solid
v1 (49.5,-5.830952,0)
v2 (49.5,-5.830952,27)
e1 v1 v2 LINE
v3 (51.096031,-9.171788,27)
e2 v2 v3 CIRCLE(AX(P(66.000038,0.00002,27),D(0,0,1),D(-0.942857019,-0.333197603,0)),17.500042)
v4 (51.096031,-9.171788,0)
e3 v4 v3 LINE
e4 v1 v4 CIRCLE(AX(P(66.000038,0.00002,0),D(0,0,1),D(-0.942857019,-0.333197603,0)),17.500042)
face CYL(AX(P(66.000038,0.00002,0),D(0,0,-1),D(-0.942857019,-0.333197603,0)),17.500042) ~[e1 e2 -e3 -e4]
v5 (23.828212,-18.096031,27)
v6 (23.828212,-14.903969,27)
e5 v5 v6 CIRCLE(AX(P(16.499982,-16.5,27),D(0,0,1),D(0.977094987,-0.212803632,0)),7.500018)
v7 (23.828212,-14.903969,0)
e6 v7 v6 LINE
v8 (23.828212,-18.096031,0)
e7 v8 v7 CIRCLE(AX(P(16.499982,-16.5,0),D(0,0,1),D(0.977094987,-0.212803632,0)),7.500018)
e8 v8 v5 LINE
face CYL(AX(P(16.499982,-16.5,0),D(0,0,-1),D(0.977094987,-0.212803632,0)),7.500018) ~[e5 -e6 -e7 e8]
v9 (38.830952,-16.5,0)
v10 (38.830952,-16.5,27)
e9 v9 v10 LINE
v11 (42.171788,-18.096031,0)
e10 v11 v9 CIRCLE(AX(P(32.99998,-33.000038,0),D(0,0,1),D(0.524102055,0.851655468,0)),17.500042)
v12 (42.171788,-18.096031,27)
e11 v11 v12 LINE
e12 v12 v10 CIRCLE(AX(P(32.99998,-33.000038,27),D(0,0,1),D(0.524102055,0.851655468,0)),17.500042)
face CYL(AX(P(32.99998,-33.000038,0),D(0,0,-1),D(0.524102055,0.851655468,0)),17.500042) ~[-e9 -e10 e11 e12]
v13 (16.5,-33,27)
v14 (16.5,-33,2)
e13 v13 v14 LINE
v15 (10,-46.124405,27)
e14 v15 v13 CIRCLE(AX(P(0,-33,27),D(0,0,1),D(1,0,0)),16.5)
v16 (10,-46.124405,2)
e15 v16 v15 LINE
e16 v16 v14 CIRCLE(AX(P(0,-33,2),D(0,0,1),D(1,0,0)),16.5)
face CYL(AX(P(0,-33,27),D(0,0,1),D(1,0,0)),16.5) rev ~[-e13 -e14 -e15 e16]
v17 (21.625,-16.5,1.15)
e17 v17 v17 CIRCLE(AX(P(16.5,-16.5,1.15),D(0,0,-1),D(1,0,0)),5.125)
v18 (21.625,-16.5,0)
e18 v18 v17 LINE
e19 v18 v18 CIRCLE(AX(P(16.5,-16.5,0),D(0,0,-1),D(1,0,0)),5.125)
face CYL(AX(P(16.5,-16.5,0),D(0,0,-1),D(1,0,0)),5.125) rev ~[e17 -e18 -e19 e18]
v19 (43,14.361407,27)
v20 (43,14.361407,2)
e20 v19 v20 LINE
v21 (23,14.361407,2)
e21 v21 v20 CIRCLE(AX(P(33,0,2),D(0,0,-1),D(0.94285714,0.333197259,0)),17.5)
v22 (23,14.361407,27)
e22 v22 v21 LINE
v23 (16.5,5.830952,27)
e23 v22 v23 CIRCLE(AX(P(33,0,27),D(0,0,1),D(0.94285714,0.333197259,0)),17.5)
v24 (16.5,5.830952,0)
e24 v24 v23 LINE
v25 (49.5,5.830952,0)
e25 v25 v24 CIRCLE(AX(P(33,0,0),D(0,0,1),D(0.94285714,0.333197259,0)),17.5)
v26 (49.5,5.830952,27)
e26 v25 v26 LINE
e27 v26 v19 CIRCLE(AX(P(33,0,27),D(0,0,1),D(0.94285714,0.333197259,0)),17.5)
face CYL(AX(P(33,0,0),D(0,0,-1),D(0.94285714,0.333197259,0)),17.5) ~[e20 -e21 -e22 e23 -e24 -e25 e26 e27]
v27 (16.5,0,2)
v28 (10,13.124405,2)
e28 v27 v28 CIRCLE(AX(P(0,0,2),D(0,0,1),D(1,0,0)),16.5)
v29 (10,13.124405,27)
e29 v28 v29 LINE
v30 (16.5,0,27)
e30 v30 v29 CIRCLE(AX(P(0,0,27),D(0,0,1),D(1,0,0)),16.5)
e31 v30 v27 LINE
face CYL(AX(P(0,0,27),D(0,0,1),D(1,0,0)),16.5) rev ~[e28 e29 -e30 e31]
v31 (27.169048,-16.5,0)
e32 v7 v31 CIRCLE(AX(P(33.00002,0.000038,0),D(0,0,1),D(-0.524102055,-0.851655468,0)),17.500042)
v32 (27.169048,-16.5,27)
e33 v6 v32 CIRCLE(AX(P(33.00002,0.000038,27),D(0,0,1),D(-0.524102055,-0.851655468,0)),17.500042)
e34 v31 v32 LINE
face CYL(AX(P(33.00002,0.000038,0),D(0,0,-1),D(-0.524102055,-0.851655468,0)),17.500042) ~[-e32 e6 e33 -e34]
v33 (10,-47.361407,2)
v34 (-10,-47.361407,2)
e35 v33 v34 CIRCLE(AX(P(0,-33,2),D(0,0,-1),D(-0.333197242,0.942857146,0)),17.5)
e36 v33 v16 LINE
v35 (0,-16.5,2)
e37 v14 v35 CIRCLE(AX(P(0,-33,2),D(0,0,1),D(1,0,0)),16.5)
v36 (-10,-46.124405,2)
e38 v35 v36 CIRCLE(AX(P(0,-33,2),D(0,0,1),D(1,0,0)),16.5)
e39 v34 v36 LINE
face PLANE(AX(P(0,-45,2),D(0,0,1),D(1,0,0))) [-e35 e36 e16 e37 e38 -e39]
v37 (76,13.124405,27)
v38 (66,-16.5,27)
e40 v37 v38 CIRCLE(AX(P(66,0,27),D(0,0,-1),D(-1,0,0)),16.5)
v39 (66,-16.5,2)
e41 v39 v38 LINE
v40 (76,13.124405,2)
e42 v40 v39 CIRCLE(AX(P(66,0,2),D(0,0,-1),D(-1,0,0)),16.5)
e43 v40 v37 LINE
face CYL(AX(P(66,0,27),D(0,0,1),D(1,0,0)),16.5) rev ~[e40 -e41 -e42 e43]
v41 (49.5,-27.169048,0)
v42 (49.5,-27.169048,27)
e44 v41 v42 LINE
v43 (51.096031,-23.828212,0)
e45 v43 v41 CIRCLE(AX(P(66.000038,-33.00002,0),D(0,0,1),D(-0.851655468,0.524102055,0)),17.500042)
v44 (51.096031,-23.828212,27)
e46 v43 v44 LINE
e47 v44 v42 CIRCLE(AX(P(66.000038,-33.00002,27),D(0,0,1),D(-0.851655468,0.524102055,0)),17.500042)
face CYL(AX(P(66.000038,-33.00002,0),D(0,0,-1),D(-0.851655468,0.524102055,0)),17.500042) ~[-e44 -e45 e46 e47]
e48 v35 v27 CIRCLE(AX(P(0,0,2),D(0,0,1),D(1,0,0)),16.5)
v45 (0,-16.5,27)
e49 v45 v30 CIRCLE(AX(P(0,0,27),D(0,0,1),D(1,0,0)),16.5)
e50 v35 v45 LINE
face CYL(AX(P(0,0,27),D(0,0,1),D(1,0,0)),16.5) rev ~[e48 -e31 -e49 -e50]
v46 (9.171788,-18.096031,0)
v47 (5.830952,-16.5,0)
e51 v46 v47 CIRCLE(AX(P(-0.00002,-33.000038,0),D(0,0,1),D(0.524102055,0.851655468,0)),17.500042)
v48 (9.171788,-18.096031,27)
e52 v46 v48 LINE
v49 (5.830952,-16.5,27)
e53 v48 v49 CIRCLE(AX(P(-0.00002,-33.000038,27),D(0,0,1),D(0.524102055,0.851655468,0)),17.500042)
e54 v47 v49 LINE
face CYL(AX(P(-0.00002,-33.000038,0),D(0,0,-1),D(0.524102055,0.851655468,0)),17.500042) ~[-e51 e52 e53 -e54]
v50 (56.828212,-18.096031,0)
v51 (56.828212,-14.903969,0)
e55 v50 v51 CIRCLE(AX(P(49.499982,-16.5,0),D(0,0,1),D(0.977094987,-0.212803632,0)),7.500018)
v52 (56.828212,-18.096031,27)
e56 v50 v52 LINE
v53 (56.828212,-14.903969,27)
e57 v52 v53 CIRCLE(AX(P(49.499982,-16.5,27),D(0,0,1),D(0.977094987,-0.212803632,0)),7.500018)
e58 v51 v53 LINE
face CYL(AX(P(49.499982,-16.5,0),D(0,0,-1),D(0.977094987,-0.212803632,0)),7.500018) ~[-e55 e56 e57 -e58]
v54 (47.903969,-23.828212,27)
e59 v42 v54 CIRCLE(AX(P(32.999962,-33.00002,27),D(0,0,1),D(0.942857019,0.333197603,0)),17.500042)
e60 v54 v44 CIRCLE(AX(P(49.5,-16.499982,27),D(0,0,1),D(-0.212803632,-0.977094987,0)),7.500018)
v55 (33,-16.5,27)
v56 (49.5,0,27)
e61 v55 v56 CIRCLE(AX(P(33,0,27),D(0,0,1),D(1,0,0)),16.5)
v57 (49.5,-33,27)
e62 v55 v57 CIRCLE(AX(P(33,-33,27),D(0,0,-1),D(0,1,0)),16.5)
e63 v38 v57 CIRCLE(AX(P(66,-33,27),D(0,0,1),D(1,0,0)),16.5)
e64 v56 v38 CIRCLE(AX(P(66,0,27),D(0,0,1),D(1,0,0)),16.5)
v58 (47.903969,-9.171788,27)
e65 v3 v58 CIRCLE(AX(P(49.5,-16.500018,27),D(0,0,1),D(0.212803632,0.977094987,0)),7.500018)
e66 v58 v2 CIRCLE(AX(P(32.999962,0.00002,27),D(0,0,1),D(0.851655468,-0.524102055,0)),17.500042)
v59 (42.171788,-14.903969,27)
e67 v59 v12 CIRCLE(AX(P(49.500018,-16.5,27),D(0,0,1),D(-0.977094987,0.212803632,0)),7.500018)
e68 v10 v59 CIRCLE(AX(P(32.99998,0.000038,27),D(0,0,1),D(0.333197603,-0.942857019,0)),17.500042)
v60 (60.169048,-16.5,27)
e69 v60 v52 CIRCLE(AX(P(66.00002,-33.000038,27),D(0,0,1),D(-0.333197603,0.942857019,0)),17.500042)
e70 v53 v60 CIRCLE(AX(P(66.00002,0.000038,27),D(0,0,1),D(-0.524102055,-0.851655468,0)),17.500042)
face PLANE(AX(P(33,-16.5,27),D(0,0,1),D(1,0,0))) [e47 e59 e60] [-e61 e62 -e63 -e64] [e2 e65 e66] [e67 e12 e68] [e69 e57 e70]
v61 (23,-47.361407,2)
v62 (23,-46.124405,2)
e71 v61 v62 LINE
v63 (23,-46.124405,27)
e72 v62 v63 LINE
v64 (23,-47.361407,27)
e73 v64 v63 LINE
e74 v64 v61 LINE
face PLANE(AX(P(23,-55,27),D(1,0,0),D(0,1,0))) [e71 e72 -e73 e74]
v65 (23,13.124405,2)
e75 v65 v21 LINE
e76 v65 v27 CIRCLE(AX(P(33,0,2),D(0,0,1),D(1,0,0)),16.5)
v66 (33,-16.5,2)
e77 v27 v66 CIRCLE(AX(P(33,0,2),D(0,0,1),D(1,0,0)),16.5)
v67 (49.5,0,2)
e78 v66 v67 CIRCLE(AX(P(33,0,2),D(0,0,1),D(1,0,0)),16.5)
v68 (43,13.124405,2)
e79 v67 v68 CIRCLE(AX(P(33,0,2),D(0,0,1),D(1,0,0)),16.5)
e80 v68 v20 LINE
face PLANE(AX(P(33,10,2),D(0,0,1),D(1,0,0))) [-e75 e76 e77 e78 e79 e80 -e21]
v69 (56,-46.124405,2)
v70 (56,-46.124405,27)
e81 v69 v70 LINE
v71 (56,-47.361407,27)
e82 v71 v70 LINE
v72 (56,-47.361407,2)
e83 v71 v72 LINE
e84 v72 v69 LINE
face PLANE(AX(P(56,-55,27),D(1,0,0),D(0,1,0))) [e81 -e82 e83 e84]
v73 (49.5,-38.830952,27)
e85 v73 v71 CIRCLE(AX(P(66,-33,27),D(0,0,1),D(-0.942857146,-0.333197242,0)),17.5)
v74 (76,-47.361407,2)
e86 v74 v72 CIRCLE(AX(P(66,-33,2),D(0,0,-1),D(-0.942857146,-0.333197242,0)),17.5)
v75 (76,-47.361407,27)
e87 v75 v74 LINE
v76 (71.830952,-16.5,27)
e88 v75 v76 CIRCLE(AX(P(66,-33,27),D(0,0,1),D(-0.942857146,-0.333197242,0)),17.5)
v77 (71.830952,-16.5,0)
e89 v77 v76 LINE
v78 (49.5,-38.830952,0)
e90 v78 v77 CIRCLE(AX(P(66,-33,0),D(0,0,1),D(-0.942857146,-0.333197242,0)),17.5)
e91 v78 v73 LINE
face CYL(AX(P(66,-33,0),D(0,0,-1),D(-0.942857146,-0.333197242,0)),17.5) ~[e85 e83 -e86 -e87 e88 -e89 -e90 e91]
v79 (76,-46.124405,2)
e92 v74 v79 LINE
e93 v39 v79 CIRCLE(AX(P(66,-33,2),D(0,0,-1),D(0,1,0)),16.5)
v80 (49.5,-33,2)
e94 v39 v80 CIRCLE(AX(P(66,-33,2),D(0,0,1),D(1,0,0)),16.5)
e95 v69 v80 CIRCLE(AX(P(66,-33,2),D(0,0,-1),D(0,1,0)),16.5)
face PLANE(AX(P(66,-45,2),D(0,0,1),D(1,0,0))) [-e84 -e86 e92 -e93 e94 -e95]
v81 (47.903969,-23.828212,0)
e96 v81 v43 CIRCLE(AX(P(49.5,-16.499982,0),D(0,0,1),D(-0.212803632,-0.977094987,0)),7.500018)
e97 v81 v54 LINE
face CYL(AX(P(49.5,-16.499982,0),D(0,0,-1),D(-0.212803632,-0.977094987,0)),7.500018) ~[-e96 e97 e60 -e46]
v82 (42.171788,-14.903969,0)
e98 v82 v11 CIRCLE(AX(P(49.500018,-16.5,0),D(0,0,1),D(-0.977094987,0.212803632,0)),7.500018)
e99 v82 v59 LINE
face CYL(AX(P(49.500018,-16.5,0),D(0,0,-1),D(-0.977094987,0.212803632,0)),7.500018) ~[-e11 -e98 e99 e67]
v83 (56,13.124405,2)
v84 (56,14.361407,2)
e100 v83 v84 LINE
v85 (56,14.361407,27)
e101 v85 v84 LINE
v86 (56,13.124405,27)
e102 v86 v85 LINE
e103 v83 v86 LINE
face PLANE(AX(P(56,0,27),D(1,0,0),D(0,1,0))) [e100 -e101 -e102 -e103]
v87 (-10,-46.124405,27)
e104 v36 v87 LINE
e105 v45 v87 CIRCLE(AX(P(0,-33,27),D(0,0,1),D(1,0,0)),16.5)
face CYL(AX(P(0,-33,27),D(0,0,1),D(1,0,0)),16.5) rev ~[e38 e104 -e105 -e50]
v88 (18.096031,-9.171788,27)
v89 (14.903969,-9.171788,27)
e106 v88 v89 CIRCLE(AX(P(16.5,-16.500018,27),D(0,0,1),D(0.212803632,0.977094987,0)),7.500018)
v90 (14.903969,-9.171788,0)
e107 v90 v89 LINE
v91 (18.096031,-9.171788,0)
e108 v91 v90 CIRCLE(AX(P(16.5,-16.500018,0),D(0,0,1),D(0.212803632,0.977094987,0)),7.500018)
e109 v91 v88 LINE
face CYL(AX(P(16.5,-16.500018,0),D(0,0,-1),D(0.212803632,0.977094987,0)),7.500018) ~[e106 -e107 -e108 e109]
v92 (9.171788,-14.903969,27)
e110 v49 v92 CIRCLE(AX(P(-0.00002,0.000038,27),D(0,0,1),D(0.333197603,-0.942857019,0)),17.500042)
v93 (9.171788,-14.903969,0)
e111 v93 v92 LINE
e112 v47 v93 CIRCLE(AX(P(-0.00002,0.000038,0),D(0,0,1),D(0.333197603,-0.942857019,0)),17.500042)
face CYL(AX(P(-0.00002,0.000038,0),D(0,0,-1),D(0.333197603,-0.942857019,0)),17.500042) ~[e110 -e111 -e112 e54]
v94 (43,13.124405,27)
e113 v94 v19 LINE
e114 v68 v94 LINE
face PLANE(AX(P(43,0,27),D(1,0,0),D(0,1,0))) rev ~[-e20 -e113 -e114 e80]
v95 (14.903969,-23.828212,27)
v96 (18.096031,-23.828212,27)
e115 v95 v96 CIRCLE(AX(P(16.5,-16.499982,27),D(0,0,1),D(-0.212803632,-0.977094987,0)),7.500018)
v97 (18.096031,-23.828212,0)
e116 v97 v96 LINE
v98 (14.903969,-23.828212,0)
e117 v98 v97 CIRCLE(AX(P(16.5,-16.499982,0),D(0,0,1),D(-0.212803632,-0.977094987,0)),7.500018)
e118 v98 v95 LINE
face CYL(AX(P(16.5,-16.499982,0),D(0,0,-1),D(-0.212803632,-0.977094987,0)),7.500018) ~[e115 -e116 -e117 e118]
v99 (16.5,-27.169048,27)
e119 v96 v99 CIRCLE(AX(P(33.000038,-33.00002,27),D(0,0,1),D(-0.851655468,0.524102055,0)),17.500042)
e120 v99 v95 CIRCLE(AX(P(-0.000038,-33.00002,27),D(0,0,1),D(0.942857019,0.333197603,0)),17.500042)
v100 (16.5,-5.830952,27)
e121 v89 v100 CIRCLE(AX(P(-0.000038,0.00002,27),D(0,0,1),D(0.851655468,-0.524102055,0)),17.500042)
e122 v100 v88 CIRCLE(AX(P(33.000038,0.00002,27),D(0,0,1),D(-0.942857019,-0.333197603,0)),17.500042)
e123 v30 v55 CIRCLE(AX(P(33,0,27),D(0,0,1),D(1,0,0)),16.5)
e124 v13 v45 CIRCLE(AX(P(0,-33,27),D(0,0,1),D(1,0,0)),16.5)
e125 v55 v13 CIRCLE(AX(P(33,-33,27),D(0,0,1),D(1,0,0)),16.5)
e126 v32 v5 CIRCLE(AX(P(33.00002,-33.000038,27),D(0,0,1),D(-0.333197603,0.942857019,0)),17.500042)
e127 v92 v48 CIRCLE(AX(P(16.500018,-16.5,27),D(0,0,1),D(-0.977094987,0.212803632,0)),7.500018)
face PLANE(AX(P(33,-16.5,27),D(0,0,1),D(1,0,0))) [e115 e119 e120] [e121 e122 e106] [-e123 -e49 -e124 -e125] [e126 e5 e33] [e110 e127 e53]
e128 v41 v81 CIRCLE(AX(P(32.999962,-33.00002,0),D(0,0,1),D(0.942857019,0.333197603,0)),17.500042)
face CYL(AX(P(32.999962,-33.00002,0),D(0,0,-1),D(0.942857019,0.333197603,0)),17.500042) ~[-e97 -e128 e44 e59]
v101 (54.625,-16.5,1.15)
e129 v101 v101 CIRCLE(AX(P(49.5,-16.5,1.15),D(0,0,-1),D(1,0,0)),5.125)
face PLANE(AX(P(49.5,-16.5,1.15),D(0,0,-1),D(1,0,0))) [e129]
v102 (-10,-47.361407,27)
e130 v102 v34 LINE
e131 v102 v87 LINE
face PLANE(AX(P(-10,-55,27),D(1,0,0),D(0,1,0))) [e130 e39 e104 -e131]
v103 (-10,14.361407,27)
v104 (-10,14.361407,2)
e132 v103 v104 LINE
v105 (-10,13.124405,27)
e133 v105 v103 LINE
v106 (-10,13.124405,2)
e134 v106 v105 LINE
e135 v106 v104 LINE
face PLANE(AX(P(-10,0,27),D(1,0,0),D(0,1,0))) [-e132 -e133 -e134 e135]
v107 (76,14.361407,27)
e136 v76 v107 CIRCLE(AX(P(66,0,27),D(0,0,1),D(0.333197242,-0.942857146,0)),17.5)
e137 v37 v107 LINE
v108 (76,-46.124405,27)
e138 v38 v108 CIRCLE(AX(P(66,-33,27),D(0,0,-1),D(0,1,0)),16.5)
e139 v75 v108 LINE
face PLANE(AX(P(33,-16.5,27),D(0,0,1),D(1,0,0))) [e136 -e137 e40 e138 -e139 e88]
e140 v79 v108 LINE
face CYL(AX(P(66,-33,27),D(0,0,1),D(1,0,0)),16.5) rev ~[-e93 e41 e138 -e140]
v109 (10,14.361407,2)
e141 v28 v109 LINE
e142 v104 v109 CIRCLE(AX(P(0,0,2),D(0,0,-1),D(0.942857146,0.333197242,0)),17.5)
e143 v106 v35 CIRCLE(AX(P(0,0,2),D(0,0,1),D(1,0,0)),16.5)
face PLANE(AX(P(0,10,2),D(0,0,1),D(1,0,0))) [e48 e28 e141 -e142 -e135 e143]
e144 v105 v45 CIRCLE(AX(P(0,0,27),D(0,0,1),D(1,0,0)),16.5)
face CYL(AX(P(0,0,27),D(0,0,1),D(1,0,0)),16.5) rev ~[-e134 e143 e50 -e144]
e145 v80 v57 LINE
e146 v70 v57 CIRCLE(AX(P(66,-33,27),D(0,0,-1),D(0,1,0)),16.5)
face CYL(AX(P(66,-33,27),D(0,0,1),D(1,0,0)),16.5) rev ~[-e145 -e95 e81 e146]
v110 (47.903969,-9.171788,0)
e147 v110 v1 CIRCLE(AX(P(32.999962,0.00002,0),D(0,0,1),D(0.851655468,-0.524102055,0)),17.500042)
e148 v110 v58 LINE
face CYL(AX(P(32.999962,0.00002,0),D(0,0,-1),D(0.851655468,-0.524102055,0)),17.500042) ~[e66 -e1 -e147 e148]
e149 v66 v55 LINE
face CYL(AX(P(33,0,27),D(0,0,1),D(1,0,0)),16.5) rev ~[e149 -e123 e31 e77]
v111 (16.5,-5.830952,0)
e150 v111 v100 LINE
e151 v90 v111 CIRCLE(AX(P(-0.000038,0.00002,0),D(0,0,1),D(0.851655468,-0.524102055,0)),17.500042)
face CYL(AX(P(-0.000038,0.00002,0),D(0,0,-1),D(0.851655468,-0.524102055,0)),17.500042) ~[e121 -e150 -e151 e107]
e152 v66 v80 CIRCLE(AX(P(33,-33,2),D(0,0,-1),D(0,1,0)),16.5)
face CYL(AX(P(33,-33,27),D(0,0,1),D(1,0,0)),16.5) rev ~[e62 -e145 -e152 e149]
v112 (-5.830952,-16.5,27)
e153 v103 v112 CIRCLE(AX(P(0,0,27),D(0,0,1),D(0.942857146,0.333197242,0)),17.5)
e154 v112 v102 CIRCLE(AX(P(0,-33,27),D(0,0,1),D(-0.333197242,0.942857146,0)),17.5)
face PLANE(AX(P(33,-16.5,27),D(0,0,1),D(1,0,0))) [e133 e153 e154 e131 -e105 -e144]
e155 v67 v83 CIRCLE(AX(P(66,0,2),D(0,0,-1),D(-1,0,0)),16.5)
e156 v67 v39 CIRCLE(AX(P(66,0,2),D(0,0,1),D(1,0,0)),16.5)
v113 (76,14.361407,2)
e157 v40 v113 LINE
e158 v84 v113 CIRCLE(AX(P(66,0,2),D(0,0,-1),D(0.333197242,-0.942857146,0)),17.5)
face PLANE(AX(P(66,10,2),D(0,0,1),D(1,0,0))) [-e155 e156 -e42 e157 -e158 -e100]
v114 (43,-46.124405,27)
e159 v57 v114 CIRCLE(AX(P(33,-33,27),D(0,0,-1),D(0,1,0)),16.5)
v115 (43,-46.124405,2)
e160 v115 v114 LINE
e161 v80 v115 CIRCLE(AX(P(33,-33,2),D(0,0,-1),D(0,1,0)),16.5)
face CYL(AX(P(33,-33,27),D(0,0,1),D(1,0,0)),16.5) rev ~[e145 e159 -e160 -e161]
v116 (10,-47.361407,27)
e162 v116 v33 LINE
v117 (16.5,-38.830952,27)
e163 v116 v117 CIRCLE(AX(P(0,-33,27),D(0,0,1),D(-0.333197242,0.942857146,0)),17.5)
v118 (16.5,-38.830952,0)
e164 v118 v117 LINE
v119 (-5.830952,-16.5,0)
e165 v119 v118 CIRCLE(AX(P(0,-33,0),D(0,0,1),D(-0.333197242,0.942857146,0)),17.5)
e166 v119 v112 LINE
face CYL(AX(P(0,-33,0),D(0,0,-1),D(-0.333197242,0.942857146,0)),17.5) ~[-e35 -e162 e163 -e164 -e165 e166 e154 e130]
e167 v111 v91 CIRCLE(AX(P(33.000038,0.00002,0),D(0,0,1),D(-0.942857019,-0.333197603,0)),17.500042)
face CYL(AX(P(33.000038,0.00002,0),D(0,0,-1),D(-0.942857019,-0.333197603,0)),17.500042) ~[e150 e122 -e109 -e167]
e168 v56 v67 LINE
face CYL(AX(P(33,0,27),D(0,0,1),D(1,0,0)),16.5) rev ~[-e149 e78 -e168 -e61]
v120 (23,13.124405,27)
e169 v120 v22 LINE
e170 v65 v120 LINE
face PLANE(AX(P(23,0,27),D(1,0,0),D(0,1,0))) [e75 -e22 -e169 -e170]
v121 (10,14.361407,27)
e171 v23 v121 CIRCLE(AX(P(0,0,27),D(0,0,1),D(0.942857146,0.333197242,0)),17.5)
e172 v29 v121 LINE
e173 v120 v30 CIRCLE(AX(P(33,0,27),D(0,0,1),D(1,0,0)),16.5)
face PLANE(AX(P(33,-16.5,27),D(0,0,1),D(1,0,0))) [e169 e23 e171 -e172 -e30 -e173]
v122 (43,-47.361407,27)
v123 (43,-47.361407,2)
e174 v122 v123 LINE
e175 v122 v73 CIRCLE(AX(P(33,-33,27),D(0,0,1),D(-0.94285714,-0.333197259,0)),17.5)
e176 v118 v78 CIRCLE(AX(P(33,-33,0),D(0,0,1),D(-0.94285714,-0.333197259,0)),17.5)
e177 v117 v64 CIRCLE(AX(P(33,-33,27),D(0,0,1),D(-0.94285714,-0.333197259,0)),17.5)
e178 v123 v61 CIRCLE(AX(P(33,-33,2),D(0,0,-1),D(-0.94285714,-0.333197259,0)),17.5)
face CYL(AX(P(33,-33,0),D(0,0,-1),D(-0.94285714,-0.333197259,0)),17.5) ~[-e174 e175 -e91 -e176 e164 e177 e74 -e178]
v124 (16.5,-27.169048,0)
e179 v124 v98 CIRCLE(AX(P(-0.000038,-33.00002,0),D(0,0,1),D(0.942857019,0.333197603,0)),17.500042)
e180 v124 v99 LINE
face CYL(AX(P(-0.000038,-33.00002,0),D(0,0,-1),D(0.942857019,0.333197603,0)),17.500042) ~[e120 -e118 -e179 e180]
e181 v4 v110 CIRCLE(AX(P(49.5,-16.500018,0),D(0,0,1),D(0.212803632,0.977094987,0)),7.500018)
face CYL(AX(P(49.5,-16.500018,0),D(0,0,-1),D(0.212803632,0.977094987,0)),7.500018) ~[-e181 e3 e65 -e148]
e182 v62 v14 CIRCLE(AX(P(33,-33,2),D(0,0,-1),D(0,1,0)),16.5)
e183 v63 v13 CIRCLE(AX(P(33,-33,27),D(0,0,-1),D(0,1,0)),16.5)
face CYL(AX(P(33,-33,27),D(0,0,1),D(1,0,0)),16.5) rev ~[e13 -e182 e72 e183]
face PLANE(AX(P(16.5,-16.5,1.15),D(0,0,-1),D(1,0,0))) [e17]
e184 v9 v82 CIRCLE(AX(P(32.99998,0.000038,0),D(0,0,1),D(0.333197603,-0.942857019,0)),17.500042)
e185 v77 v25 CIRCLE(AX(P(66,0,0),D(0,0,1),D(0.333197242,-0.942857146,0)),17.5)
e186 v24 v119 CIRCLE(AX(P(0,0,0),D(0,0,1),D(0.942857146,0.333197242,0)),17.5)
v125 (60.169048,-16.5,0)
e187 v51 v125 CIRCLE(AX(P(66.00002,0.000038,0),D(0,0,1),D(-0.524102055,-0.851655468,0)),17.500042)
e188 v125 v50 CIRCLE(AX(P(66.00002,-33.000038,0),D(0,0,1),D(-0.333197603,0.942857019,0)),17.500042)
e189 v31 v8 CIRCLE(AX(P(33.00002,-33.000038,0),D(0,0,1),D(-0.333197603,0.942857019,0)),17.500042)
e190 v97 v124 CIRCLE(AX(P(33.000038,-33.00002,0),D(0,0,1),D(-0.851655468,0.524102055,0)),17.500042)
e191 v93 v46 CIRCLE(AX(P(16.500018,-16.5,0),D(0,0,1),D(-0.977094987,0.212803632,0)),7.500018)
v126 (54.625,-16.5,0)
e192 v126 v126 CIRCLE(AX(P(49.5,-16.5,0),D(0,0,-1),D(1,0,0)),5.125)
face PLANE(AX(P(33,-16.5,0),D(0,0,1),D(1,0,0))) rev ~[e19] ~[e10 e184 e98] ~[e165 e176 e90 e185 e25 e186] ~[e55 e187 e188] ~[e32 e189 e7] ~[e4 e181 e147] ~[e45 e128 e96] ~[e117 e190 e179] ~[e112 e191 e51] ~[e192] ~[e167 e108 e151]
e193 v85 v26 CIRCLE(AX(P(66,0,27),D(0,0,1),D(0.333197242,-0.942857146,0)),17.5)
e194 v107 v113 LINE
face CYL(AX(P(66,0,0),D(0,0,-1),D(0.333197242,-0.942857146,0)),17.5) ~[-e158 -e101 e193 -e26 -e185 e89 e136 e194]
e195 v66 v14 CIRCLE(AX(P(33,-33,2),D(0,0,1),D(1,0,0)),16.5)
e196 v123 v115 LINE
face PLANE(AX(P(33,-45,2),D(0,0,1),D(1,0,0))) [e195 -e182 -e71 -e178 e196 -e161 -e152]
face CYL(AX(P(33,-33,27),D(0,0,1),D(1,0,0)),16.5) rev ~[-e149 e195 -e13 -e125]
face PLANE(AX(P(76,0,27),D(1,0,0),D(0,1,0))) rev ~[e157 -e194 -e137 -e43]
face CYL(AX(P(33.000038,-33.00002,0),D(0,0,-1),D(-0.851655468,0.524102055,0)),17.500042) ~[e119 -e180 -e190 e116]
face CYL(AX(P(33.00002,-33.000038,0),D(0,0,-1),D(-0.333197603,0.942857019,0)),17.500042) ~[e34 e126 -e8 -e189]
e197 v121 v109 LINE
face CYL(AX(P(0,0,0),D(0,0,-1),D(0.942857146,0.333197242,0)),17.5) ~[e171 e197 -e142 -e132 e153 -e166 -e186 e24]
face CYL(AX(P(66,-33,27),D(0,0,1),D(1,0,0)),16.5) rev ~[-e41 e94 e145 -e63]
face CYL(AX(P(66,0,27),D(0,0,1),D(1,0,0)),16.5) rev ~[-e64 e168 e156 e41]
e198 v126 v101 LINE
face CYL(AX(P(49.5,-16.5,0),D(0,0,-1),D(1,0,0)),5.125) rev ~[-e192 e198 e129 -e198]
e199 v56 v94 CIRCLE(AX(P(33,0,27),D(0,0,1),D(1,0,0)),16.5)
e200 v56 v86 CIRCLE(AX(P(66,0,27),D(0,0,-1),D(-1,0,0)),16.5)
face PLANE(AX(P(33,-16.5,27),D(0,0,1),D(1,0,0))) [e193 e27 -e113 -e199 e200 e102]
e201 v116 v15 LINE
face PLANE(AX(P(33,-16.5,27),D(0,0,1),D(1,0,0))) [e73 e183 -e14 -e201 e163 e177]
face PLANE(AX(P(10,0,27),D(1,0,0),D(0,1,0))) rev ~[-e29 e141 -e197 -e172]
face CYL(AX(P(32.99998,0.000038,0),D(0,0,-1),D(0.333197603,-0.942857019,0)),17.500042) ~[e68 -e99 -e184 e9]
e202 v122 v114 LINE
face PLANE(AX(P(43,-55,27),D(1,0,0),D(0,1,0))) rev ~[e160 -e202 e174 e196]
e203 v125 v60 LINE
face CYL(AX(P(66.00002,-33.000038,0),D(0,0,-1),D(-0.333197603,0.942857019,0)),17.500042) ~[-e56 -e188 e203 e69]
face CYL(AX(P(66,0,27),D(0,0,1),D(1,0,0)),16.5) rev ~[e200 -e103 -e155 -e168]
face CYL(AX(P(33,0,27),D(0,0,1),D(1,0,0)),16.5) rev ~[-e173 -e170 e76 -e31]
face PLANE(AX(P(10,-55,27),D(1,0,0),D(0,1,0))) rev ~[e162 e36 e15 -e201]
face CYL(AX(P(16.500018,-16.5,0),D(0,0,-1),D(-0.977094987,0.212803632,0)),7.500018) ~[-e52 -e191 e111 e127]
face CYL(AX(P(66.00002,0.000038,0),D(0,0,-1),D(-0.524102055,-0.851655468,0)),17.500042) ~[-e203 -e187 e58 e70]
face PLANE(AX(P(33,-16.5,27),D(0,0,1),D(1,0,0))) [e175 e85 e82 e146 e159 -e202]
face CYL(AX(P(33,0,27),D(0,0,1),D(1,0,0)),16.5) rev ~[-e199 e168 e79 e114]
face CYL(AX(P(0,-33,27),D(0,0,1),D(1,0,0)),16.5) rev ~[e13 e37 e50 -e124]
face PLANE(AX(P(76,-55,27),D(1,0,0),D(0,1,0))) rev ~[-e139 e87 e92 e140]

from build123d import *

# Parameters (mm, degrees)
PAD_DEPTH       = 27
SKETCH001_R     = 16.5
POCKET_DEPTH    = 25
SKETCH002_R     = 16.5
POCKET001_DEPTH = 25
SKETCH003_R     = 16.5
POCKET002_DEPTH = 25
SKETCH004_R     = 16.5
POCKET003_DEPTH = 25
SKETCH005_R     = 16.5
POCKET004_DEPTH = 25
SKETCH006_R     = 16.5
POCKET005_DEPTH = 25
SKETCH007_R     = 5.125
POCKET006_DEPTH = 1.15
SKETCH008_R     = 5.125
POCKET007_DEPTH = 1.15
SKETCH009_W     = 20
SKETCH009_H     = 20
POCKET008_DEPTH = 25


with BuildPart() as part:
    # Sketch → Pad (new body)
    with BuildSketch(Plane.XY):
        with BuildLine():
            ThreePointArc((71.830952, -16.5), (78.374369, 12.374369), (49.5, 5.830952))
            ThreePointArc((49.5, 5.830952), (33, 17.5), (16.5, 5.830952))
            ThreePointArc((16.5, 5.830952), (-12.374369, 12.374369), (-5.830952, -16.5))
            ThreePointArc((-5.830952, -16.5), (-12.374369, -45.374369), (16.5, -38.830952))
            ThreePointArc((16.5, -38.830952), (33, -50.5), (49.5, -38.830952))
            ThreePointArc((49.5, -38.830952), (78.374369, -45.374369), (71.830952, -16.5))
        make_face()
        with BuildLine():
            ThreePointArc((5.830952, -16.5), (7.543698, -15.790586), (9.171788, -14.903969))
            ThreePointArc((9.171788, -14.903969), (9, -16.5), (9.171788, -18.096031))
            ThreePointArc((9.171788, -18.096031), (7.543698, -17.209414), (5.830952, -16.5))
        make_face(mode=Mode.SUBTRACT)
        with BuildLine():
            ThreePointArc((47.903969, -9.171788), (48.790586, -7.543698), (49.5, -5.830952))
            ThreePointArc((49.5, -5.830952), (50.209414, -7.543698), (51.096031, -9.171788))
            ThreePointArc((51.096031, -9.171788), (49.5, -9), (47.903969, -9.171788))
        make_face(mode=Mode.SUBTRACT)
        with BuildLine():
            ThreePointArc((18.096031, -23.828212), (17.209414, -25.456302), (16.5, -27.169048))
            ThreePointArc((16.5, -27.169048), (15.790586, -25.456302), (14.903969, -23.828212))
            ThreePointArc((14.903969, -23.828212), (16.5, -24), (18.096031, -23.828212))
        make_face(mode=Mode.SUBTRACT)
        with BuildLine():
            ThreePointArc((47.903969, -23.828212), (49.5, -24), (51.096031, -23.828212))
            ThreePointArc((51.096031, -23.828212), (50.209414, -25.456302), (49.5, -27.169048))
            ThreePointArc((49.5, -27.169048), (48.790586, -25.456302), (47.903969, -23.828212))
        make_face(mode=Mode.SUBTRACT)
        with BuildLine():
            ThreePointArc((14.903969, -9.171788), (15.790586, -7.543698), (16.5, -5.830952))
            ThreePointArc((16.5, -5.830952), (17.209414, -7.543698), (18.096031, -9.171788))
            ThreePointArc((18.096031, -9.171788), (16.5, -9), (14.903969, -9.171788))
        make_face(mode=Mode.SUBTRACT)
        with BuildLine():
            ThreePointArc((23.828212, -18.096031), (24, -16.5), (23.828212, -14.903969))
            ThreePointArc((23.828212, -14.903969), (25.456302, -15.790586), (27.169048, -16.5))
            ThreePointArc((27.169048, -16.5), (25.456302, -17.209414), (23.828212, -18.096031))
        make_face(mode=Mode.SUBTRACT)
        with BuildLine():
            ThreePointArc((42.171788, -18.096031), (40.543698, -17.209414), (38.830952, -16.5))
            ThreePointArc((38.830952, -16.5), (40.543698, -15.790586), (42.171788, -14.903969))
            ThreePointArc((42.171788, -14.903969), (42, -16.5), (42.171788, -18.096031))
        make_face(mode=Mode.SUBTRACT)
        with BuildLine():
            ThreePointArc((56.828212, -18.096031), (57, -16.5), (56.828212, -14.903969))
            ThreePointArc((56.828212, -14.903969), (58.456302, -15.790586), (60.169048, -16.5))
            ThreePointArc((60.169048, -16.5), (58.456302, -17.209414), (56.828212, -18.096031))
        make_face(mode=Mode.SUBTRACT)
    extrude(amount=PAD_DEPTH)

    # Sketch001 (on Face32 of Pad) → Pocket (cut)
    with BuildSketch(Plane.XY.offset(27)):
        Circle(SKETCH001_R)
    extrude(amount=-POCKET_DEPTH, mode=Mode.SUBTRACT)

    # Sketch002 (on Face5 of Pocket) → Pocket001 (cut)
    with BuildSketch(Plane.XY.offset(27)):
        with Locations((33, 0)):
            Circle(SKETCH002_R)
    extrude(amount=-POCKET001_DEPTH, mode=Mode.SUBTRACT)

    # Sketch003 (on Face5 of Pocket001) → Pocket002 (cut)
    with BuildSketch(Plane.XY.offset(27)):
        with Locations((66, 0)):
            Circle(SKETCH003_R)
    extrude(amount=-POCKET002_DEPTH, mode=Mode.SUBTRACT)

    # Sketch004 (on Face5 of Pocket002) → Pocket003 (cut)
    with BuildSketch(Plane.XY.offset(27)):
        with Locations((0, -33)):
            Circle(SKETCH004_R)
    extrude(amount=-POCKET003_DEPTH, mode=Mode.SUBTRACT)

    # Sketch005 (on Face5 of Pocket003) → Pocket004 (cut)
    with BuildSketch(Plane.XY.offset(27)):
        with Locations((33, -33)):
            Circle(SKETCH005_R)
    extrude(amount=-POCKET004_DEPTH, mode=Mode.SUBTRACT)

    # Sketch006 (on Face5 of Pocket004) → Pocket005 (cut)
    with BuildSketch(Plane.XY.offset(27)):
        with Locations((66, -33)):
            Circle(SKETCH006_R)
    extrude(amount=-POCKET005_DEPTH, mode=Mode.SUBTRACT)

    # Sketch007 (on Face4 of Pocket005) → Pocket006 (cut)
    with BuildSketch(Plane(origin=(0, 0, 0), x_dir=(1, 0, 0), z_dir=(0, 0, -1))):
        with Locations((16.5, 16.5)):
            Circle(SKETCH007_R)
    extrude(amount=-POCKET006_DEPTH, mode=Mode.SUBTRACT)

    # Sketch008 (on Face4 of Pocket006) → Pocket007 (cut)
    with BuildSketch(Plane(origin=(0, 0, 0), x_dir=(1, 0, 0), z_dir=(0, 0, -1))):
        with Locations((49.5, 16.5)):
            Circle(SKETCH008_R)
    extrude(amount=-POCKET007_DEPTH, mode=Mode.SUBTRACT)

    # Sketch009 (on Face43 of Pocket007) → Pocket008 (cut)
    with BuildSketch(Plane.XY.offset(27)):
        with Locations((0, 10)):
            Rectangle(SKETCH009_W, SKETCH009_H)
        with Locations((33, 10)):
            Rectangle(SKETCH009_W, SKETCH009_H)
        with Locations((66, 10)):
            Rectangle(SKETCH009_W, SKETCH009_H)
        with Locations((0, -45)):
            Rectangle(SKETCH009_W, SKETCH009_H)
        with Locations((33, -45)):
            Rectangle(SKETCH009_W, SKETCH009_H)
        with Locations((66, -45)):
            Rectangle(SKETCH009_W, SKETCH009_H)
    extrude(amount=-POCKET008_DEPTH, mode=Mode.SUBTRACT)


solid = part.part
